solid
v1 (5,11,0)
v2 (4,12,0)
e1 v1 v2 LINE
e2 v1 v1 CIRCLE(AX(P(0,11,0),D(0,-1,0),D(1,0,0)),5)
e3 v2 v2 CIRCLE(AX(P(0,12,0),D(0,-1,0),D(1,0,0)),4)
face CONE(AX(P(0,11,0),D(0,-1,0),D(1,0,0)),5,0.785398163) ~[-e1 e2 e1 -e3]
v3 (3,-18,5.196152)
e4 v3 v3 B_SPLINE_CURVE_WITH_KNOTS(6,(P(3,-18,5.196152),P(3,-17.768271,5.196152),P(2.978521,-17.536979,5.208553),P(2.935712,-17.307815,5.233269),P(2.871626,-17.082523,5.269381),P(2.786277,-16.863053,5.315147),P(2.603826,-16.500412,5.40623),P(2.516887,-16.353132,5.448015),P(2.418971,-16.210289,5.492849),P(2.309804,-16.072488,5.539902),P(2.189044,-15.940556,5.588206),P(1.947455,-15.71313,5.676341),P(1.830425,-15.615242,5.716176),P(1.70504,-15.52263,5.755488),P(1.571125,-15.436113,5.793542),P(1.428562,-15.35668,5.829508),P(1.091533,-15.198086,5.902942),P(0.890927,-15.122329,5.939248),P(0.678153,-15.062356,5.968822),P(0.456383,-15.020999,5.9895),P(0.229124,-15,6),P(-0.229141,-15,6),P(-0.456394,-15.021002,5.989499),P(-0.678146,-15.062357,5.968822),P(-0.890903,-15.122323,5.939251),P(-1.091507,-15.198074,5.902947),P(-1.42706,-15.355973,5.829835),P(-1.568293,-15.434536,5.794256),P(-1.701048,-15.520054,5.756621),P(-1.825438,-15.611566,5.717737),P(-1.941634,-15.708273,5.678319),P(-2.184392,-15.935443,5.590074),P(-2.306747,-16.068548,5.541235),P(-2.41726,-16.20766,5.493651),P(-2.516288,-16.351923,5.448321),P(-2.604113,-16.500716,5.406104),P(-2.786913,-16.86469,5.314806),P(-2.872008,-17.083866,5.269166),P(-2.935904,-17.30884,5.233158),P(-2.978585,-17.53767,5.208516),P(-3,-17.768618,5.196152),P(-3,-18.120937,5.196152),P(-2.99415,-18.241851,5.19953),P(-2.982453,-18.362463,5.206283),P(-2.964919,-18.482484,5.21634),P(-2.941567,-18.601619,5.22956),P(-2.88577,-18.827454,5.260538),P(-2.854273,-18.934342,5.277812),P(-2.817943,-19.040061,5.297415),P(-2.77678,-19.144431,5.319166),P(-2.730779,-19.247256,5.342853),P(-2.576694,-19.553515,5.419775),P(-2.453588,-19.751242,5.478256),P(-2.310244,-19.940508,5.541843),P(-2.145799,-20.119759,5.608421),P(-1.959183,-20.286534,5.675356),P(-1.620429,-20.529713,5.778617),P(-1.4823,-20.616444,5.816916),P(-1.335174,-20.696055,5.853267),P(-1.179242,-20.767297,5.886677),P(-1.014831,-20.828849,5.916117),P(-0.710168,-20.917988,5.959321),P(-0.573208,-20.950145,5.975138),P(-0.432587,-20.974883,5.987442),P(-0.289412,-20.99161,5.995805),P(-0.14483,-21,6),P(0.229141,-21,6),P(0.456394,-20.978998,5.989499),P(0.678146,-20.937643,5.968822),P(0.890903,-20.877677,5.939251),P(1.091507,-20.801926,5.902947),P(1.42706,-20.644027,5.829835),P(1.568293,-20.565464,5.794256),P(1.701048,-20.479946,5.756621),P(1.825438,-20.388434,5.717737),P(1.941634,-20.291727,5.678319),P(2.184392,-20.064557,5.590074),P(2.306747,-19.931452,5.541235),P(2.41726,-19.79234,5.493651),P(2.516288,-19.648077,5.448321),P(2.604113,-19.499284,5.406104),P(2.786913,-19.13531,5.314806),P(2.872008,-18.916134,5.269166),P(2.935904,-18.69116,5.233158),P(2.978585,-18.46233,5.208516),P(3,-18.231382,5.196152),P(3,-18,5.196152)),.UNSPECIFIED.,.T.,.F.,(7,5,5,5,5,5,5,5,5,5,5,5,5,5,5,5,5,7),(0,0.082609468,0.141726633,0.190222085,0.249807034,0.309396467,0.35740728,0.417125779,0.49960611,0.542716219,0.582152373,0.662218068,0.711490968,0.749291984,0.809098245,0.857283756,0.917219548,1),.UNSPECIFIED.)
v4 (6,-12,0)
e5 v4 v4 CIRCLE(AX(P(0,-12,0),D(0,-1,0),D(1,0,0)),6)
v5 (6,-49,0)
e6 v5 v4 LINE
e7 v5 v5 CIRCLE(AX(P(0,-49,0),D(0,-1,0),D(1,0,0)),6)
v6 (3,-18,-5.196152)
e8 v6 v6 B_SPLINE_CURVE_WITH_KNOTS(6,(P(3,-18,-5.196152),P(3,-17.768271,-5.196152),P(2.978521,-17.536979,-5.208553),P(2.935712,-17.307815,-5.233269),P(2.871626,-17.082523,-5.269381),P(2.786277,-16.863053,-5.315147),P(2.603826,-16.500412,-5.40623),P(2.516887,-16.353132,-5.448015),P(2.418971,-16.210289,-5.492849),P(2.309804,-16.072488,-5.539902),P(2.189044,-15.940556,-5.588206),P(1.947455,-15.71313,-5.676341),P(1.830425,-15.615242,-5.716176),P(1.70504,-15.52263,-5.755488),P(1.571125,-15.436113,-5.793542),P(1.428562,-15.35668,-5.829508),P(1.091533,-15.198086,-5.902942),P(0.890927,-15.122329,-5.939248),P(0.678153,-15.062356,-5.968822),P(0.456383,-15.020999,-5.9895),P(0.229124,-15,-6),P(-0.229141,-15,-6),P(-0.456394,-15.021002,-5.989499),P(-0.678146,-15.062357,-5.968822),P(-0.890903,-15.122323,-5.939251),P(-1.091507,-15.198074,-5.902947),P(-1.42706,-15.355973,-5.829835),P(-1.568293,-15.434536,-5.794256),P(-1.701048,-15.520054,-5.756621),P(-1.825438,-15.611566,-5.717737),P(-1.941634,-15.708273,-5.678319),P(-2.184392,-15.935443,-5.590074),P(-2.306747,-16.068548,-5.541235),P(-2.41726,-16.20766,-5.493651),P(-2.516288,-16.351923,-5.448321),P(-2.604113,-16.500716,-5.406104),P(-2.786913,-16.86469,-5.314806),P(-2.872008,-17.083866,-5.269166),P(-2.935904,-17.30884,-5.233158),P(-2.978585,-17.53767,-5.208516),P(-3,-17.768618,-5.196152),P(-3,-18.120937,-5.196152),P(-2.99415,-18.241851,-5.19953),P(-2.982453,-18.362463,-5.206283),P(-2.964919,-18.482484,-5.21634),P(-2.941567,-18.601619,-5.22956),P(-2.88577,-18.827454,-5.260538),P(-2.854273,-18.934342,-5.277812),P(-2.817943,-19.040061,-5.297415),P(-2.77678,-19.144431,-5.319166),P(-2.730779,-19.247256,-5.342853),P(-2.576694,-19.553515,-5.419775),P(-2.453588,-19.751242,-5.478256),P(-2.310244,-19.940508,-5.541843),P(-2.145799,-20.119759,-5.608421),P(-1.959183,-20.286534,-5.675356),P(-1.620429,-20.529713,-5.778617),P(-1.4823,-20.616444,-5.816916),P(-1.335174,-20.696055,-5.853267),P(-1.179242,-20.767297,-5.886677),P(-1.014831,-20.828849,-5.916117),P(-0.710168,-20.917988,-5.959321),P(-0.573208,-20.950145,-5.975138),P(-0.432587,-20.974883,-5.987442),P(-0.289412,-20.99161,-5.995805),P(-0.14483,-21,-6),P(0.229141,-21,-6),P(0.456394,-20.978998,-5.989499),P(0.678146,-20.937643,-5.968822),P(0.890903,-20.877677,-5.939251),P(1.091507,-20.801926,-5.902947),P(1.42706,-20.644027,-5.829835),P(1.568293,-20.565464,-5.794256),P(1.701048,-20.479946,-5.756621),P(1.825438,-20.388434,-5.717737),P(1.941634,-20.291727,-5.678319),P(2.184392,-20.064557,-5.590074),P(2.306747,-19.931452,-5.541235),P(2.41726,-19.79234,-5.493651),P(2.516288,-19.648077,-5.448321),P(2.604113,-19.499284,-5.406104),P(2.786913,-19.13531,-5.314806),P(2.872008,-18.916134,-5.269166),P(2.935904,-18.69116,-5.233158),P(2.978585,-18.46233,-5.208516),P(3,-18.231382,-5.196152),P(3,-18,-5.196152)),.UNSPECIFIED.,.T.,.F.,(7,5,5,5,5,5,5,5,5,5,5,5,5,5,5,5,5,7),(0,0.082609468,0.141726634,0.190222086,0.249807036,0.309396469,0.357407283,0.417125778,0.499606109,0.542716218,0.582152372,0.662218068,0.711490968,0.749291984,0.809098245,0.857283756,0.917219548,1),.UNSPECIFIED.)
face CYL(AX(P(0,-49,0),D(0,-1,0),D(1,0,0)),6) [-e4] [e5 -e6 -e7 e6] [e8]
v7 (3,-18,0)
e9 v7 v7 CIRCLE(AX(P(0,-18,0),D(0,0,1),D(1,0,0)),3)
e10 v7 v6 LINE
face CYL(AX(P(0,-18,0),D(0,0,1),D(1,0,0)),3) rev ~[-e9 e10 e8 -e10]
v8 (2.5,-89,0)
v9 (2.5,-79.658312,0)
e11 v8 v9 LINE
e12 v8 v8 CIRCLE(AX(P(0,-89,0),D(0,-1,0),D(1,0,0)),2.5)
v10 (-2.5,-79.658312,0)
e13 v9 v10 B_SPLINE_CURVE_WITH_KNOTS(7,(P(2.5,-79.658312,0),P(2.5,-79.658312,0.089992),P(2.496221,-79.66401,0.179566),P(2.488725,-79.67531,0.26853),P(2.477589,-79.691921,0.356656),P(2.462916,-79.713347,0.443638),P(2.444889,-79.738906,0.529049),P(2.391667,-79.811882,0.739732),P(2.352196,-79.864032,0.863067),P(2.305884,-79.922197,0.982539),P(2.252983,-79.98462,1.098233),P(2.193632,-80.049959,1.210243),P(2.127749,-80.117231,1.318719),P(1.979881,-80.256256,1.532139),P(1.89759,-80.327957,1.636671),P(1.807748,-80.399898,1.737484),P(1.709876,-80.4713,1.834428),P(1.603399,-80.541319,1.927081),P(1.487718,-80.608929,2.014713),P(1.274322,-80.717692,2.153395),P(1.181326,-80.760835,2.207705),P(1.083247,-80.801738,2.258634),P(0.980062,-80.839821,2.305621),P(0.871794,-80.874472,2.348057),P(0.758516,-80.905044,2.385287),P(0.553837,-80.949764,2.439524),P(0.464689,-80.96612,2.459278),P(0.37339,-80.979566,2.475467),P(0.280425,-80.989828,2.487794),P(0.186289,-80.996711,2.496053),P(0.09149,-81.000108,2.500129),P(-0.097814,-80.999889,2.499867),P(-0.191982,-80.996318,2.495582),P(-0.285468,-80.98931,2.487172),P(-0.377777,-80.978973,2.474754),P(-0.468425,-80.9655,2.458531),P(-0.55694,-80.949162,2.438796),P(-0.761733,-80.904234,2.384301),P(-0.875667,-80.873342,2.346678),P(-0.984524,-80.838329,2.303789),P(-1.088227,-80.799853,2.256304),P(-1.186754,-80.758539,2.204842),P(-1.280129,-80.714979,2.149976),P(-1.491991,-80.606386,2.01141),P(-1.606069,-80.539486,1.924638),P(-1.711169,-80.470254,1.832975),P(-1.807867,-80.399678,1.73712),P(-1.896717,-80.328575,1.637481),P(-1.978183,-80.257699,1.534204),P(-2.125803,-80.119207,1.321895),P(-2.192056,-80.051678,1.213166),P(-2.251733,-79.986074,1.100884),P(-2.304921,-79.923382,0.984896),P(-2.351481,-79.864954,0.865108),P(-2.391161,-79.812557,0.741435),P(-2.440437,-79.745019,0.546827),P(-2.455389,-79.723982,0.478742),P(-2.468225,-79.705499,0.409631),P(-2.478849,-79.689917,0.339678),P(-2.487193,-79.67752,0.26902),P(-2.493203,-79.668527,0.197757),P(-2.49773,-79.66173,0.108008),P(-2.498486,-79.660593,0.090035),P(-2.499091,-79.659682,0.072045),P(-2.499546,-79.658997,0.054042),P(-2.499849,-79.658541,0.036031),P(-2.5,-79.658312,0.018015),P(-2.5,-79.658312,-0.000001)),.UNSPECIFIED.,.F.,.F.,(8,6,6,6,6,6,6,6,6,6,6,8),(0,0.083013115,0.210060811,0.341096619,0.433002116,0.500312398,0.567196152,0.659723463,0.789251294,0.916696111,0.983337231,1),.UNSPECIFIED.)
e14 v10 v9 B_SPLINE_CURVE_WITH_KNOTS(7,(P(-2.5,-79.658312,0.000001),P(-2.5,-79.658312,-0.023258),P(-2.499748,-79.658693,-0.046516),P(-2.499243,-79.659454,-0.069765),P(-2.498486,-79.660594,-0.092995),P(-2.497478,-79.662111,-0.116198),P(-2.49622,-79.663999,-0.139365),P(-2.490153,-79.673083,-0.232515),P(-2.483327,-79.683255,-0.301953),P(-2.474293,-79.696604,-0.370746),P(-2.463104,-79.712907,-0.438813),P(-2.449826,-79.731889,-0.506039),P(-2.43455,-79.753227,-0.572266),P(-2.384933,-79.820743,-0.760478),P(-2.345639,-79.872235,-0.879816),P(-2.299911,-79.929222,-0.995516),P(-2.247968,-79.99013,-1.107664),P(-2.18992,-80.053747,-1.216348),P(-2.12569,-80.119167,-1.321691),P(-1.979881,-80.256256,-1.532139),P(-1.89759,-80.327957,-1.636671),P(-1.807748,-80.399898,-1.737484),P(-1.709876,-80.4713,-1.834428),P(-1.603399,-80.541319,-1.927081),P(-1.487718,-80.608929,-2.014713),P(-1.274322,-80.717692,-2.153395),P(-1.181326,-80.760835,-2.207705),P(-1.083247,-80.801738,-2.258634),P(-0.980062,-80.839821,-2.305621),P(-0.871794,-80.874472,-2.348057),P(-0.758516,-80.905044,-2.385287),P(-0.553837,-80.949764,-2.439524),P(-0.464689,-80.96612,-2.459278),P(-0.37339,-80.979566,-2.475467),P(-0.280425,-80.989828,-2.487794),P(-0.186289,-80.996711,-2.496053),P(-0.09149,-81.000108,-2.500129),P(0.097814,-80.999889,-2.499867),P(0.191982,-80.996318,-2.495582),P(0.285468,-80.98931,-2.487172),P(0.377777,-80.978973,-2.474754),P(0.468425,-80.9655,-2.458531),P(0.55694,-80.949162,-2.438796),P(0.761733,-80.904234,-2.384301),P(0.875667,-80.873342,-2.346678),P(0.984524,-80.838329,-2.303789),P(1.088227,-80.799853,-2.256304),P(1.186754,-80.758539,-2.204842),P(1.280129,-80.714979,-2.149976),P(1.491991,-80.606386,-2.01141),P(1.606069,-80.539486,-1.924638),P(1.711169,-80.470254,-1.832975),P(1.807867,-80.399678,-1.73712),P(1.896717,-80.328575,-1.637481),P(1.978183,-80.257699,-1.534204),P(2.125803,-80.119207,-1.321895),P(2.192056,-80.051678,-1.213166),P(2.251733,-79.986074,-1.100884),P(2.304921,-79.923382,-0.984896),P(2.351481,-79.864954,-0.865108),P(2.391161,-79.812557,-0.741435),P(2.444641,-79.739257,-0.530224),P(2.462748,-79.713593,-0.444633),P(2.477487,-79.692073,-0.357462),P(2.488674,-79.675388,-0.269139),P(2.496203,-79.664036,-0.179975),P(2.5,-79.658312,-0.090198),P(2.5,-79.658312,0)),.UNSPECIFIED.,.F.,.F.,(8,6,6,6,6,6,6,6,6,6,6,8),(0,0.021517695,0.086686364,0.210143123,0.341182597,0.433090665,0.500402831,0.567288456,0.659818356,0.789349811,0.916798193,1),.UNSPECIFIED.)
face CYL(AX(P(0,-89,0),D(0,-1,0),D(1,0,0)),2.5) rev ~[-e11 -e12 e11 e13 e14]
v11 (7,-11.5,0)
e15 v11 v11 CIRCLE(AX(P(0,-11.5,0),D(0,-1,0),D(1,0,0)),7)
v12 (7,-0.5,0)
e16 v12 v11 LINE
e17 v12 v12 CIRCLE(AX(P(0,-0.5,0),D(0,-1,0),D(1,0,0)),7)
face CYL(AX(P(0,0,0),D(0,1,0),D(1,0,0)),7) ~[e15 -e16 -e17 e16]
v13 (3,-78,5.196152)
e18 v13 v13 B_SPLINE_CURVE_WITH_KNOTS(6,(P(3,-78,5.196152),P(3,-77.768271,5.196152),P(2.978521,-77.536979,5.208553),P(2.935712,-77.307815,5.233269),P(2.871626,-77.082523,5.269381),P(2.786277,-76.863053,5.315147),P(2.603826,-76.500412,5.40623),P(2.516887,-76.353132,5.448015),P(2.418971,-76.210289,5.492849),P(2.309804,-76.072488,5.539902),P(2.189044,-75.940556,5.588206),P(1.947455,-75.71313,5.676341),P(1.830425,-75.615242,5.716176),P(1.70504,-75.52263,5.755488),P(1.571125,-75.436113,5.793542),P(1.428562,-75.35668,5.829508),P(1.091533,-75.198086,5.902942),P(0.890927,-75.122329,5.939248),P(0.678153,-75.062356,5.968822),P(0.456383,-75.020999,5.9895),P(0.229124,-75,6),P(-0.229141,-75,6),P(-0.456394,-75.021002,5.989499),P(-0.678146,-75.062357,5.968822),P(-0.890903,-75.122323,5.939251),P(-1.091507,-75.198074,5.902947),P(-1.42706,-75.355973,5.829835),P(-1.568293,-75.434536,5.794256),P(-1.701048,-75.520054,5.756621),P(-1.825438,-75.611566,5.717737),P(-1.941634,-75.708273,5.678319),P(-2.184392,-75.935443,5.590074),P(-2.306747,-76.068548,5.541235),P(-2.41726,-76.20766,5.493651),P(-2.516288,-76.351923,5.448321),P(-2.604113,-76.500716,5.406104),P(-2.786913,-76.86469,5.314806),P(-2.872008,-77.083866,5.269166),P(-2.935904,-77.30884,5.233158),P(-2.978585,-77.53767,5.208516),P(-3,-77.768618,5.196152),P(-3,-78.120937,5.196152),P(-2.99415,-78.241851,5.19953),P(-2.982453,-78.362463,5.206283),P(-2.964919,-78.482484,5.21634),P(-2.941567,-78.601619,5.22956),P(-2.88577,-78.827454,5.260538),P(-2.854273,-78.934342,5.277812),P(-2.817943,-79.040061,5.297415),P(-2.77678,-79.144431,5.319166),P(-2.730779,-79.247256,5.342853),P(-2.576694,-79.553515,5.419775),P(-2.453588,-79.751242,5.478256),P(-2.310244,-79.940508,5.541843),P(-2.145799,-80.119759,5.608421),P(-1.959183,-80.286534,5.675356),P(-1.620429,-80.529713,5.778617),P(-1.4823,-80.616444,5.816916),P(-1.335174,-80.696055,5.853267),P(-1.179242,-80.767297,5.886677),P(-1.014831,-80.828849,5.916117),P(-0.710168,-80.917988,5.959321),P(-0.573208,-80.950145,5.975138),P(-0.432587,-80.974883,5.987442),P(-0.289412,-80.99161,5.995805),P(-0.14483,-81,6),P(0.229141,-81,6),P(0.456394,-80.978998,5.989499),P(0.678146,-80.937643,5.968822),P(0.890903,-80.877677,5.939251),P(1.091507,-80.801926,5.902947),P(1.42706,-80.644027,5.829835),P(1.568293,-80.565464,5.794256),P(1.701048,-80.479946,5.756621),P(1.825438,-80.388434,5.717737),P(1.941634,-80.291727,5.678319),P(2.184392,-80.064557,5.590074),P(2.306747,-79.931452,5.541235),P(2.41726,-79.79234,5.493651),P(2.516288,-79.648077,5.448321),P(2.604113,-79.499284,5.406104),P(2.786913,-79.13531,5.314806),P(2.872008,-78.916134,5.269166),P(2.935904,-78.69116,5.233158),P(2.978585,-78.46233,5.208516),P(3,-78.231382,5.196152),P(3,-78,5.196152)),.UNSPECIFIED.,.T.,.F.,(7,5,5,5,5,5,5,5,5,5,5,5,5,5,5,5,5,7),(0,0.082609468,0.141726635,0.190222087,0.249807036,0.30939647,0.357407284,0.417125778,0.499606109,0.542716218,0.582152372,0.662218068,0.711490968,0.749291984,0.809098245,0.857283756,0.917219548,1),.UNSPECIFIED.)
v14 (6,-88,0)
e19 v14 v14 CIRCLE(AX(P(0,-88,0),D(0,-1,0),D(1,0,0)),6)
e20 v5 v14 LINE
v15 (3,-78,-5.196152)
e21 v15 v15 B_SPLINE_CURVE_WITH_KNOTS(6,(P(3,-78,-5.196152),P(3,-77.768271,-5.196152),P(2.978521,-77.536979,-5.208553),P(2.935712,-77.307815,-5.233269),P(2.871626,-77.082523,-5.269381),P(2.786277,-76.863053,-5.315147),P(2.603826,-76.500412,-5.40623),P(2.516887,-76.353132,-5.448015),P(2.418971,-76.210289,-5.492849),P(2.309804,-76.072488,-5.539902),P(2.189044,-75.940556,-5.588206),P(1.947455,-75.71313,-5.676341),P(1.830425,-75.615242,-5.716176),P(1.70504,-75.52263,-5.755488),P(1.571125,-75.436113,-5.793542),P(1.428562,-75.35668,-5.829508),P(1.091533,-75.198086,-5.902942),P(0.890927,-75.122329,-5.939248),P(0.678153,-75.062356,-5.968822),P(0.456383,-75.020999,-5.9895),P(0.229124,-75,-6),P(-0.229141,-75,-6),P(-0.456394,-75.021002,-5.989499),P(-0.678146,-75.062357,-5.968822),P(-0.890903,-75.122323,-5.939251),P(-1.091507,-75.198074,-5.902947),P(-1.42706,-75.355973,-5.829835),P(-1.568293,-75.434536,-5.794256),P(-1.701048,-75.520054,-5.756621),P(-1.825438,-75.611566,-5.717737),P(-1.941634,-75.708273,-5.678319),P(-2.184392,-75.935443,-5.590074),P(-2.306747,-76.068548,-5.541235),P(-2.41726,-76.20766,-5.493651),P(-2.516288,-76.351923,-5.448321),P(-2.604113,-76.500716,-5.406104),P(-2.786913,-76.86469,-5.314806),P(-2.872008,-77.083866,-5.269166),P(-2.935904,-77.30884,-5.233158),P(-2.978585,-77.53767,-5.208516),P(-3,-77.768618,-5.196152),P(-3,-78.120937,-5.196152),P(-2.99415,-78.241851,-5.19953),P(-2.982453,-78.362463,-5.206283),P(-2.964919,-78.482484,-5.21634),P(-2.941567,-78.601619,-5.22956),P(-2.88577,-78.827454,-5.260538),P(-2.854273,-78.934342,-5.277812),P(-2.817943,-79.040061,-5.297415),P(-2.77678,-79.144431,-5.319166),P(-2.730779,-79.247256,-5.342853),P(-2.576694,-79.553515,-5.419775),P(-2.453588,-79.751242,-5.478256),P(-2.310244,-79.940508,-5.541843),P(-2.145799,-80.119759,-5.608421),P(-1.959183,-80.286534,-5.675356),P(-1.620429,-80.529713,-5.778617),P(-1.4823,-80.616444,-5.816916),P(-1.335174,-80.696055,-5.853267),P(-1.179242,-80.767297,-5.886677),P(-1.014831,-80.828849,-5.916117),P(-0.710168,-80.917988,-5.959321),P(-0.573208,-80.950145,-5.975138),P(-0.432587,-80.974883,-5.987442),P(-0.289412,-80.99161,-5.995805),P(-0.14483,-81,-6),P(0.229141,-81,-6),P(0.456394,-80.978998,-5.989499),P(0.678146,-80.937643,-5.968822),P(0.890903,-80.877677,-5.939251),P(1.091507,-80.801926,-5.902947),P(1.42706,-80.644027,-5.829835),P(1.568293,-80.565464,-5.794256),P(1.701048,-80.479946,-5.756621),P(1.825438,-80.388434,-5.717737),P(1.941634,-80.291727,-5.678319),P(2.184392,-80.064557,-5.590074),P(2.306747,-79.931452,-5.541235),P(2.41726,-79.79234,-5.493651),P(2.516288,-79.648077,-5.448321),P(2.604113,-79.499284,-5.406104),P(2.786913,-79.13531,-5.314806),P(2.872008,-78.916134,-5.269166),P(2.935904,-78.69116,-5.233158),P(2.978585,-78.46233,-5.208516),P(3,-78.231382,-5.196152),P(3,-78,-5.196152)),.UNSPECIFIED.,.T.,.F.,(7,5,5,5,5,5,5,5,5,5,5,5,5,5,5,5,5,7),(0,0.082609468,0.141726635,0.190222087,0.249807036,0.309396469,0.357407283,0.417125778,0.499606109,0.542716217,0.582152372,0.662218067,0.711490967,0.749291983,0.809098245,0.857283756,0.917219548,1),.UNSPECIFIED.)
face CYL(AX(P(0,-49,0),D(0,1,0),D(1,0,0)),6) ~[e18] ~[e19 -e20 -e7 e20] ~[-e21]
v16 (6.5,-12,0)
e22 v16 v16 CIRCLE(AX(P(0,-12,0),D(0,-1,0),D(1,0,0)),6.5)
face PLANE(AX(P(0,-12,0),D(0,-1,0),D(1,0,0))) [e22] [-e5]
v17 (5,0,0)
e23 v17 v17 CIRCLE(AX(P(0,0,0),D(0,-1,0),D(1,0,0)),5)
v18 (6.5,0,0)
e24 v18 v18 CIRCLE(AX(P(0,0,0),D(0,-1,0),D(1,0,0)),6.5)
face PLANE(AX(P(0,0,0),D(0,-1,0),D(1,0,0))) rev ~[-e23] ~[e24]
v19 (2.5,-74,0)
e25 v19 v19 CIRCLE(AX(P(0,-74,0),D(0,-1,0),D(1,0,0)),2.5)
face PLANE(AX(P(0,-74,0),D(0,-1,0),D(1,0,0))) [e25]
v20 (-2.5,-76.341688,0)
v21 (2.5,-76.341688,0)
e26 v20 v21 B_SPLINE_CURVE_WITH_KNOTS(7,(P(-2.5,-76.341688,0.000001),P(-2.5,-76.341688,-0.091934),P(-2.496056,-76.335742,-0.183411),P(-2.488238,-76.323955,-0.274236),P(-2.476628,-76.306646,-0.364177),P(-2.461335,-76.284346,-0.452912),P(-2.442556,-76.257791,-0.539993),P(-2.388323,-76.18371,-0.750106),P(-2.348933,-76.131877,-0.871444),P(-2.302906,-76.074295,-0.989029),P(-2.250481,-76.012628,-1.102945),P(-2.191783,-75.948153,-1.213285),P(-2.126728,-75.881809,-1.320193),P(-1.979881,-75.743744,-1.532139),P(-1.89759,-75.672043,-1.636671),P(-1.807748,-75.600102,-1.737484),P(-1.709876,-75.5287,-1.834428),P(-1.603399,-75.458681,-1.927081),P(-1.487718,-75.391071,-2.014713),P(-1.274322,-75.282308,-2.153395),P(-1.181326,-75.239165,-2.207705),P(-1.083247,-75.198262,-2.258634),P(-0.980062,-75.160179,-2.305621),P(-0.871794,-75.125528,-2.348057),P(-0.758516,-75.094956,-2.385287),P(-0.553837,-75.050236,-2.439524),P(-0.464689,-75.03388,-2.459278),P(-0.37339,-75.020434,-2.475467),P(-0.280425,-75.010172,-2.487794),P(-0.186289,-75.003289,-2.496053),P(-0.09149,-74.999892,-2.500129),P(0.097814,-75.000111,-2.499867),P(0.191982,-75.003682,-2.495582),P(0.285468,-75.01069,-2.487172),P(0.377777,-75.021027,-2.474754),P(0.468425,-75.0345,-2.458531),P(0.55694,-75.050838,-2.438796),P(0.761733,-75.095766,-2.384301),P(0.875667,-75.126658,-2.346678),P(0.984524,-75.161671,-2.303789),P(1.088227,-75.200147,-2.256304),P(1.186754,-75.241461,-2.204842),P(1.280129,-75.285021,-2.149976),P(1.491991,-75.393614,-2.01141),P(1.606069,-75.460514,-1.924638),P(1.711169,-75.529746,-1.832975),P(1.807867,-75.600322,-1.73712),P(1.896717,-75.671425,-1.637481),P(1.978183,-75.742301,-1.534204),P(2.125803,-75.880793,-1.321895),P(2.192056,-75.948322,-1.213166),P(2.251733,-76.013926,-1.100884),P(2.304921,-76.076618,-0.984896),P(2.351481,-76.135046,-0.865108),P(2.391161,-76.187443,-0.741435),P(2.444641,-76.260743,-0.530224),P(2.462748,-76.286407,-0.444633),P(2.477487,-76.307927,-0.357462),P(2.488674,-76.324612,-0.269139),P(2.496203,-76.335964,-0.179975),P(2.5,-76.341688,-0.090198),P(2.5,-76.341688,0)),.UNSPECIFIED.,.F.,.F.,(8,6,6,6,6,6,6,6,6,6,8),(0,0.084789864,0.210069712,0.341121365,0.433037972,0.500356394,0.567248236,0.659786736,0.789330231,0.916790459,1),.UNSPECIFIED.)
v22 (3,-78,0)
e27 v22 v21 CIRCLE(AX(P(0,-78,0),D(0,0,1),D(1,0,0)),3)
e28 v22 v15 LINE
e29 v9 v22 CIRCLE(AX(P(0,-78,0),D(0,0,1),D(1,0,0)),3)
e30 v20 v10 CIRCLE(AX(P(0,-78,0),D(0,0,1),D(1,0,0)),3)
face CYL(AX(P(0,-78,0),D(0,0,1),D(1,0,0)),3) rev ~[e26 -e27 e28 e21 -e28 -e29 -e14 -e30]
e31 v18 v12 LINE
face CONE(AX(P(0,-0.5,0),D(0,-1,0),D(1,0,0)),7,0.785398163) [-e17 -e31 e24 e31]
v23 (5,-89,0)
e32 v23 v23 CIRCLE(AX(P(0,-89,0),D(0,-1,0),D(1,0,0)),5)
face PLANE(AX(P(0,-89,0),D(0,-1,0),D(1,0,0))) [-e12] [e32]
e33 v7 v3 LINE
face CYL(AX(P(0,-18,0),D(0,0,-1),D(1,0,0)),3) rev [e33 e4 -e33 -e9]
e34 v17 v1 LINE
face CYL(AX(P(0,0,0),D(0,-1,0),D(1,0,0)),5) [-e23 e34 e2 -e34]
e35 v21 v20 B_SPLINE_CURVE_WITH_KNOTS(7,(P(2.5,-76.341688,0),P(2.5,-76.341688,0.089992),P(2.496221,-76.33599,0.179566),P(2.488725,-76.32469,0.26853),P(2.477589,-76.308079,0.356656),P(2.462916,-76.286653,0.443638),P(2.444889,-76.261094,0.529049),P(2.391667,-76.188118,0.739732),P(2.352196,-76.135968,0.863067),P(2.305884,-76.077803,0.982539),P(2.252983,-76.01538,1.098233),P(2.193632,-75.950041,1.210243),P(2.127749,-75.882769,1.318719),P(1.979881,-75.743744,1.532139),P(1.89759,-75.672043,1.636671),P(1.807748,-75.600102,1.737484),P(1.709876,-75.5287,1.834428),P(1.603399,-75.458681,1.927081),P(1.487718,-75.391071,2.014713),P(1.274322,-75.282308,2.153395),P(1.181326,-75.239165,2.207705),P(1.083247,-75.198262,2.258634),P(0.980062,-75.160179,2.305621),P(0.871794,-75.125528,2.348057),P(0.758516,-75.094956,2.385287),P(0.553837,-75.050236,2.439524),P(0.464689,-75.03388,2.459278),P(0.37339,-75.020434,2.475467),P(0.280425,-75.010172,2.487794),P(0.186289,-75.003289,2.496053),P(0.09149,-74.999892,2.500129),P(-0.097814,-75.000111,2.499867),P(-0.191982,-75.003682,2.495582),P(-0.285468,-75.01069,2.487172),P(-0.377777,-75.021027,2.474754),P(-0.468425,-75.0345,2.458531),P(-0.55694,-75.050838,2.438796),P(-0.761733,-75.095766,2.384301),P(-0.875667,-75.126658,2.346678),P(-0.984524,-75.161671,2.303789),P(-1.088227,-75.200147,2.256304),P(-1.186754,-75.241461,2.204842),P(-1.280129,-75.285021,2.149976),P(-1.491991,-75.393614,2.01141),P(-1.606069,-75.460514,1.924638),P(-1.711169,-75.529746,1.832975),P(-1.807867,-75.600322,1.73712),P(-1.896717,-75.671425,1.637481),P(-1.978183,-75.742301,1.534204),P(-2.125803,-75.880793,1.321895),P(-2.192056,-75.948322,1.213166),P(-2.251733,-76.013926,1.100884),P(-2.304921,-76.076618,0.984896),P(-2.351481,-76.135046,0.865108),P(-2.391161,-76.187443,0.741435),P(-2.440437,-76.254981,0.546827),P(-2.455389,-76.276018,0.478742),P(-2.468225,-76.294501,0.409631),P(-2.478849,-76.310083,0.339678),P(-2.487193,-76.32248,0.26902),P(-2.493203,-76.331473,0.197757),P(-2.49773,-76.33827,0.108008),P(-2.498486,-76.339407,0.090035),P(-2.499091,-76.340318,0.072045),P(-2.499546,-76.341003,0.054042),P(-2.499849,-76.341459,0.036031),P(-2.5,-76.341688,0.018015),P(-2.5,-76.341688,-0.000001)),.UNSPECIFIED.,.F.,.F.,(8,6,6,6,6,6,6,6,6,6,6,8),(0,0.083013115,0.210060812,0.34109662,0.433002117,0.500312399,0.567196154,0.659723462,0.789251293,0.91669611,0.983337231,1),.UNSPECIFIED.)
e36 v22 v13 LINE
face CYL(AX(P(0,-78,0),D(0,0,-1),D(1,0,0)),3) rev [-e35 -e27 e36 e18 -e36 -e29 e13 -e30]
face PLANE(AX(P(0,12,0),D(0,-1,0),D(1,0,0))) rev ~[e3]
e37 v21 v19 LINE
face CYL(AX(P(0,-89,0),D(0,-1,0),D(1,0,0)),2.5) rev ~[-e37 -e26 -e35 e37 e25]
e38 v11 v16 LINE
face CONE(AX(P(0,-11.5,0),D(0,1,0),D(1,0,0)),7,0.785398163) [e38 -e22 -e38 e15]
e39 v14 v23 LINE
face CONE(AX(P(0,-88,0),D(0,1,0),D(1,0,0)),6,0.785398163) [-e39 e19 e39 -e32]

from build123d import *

# Parameters (mm, degrees)
F0_R           = 7
F0_R_2         = 6
F1_DEPTH       = 12
F0_R_3         = 5
F2_DEPTH       = 24
F3_DEPTH       = 24
F3_DEPTH_BACK  = 12
F4_SIZE        = 1
F5_SIZE        = 0.5
F6_R           = 3
F7_DEPTH       = 25
F7_DEPTH_BACK  = 25
F9_R           = 6
F10_DEPTH      = 26
F10_DEPTH_BACK = 40
F11_SIZE       = 1
F12_DEPTH      = 25
F12_DEPTH_BACK = 25
F13_R          = 2.5
F14_DEPTH      = 15


with BuildPart() as f1:
    # F0 (on Front) → F1 (new body)
    with BuildSketch(Plane.XZ):
        Circle(F0_R)
        Circle(F0_R_2, mode=Mode.SUBTRACT)
    extrude(amount=F1_DEPTH)

    # F0 (on Front) → F2 (join)
    with BuildSketch(Plane.XZ):
        Circle(F0_R_2)
        Circle(F0_R_3, mode=Mode.SUBTRACT)
    extrude(amount=F2_DEPTH)

    # F0 (on Front) → F3 (join, two sides)
    with BuildSketch(Plane.XZ) as f3_sk:
        Circle(F0_R_3)
    extrude(amount=F3_DEPTH)
    extrude(f3_sk.sketch, amount=-F3_DEPTH_BACK)

    # F4
    f4_edges = [f1.edges().sort_by_distance(p)[0] for p in [
        (-5, 12, 0),
    ]]
    chamfer(f4_edges, length=F4_SIZE)

    # F5
    f5_edges = [f1.edges().sort_by_distance(p)[0] for p in [
        (-6, -24, 0),
        (-7, -12, 0),
        (7, -6, 0),
        (-7, 0, 0),
    ]]
    chamfer(f5_edges, length=F5_SIZE)

    # F6 (on Top) → F7 (cut, two sides)
    with BuildSketch(Plane.XY) as f7_sk:
        with Locations((0, -18)):
            Circle(F6_R)
        with Locations((0, -78)):
            Circle(F6_R)
    extrude(amount=-F7_DEPTH, mode=Mode.SUBTRACT)
    extrude(f7_sk.sketch, amount=F7_DEPTH_BACK, mode=Mode.SUBTRACT)

    # F9 (on offset) → F10 (join, two sides)
    with BuildSketch(Plane.XZ.offset(49)) as f10_sk:
        Circle(F9_R)
    extrude(amount=-F10_DEPTH)
    extrude(f10_sk.sketch, amount=F10_DEPTH_BACK)

    # F11
    f11_edges = [f1.edges().sort_by_distance(p)[0] for p in [
        (-6, -89, 0),
    ]]
    chamfer(f11_edges, length=F11_SIZE)

    # F6 (on Top) → F12 (cut, two sides)
    with BuildSketch(Plane.XY) as f12_sk:
        with Locations((0, -18)):
            Circle(F6_R)
        with Locations((0, -78)):
            Circle(F6_R)
    extrude(amount=F12_DEPTH, mode=Mode.SUBTRACT)
    extrude(f12_sk.sketch, amount=-F12_DEPTH_BACK, mode=Mode.SUBTRACT)

    # F13 (on face) → F14 (cut)
    with BuildSketch(Plane.XZ.offset(89)):
        Circle(F13_R)
    extrude(amount=-F14_DEPTH, mode=Mode.SUBTRACT)


solid = f1.part
